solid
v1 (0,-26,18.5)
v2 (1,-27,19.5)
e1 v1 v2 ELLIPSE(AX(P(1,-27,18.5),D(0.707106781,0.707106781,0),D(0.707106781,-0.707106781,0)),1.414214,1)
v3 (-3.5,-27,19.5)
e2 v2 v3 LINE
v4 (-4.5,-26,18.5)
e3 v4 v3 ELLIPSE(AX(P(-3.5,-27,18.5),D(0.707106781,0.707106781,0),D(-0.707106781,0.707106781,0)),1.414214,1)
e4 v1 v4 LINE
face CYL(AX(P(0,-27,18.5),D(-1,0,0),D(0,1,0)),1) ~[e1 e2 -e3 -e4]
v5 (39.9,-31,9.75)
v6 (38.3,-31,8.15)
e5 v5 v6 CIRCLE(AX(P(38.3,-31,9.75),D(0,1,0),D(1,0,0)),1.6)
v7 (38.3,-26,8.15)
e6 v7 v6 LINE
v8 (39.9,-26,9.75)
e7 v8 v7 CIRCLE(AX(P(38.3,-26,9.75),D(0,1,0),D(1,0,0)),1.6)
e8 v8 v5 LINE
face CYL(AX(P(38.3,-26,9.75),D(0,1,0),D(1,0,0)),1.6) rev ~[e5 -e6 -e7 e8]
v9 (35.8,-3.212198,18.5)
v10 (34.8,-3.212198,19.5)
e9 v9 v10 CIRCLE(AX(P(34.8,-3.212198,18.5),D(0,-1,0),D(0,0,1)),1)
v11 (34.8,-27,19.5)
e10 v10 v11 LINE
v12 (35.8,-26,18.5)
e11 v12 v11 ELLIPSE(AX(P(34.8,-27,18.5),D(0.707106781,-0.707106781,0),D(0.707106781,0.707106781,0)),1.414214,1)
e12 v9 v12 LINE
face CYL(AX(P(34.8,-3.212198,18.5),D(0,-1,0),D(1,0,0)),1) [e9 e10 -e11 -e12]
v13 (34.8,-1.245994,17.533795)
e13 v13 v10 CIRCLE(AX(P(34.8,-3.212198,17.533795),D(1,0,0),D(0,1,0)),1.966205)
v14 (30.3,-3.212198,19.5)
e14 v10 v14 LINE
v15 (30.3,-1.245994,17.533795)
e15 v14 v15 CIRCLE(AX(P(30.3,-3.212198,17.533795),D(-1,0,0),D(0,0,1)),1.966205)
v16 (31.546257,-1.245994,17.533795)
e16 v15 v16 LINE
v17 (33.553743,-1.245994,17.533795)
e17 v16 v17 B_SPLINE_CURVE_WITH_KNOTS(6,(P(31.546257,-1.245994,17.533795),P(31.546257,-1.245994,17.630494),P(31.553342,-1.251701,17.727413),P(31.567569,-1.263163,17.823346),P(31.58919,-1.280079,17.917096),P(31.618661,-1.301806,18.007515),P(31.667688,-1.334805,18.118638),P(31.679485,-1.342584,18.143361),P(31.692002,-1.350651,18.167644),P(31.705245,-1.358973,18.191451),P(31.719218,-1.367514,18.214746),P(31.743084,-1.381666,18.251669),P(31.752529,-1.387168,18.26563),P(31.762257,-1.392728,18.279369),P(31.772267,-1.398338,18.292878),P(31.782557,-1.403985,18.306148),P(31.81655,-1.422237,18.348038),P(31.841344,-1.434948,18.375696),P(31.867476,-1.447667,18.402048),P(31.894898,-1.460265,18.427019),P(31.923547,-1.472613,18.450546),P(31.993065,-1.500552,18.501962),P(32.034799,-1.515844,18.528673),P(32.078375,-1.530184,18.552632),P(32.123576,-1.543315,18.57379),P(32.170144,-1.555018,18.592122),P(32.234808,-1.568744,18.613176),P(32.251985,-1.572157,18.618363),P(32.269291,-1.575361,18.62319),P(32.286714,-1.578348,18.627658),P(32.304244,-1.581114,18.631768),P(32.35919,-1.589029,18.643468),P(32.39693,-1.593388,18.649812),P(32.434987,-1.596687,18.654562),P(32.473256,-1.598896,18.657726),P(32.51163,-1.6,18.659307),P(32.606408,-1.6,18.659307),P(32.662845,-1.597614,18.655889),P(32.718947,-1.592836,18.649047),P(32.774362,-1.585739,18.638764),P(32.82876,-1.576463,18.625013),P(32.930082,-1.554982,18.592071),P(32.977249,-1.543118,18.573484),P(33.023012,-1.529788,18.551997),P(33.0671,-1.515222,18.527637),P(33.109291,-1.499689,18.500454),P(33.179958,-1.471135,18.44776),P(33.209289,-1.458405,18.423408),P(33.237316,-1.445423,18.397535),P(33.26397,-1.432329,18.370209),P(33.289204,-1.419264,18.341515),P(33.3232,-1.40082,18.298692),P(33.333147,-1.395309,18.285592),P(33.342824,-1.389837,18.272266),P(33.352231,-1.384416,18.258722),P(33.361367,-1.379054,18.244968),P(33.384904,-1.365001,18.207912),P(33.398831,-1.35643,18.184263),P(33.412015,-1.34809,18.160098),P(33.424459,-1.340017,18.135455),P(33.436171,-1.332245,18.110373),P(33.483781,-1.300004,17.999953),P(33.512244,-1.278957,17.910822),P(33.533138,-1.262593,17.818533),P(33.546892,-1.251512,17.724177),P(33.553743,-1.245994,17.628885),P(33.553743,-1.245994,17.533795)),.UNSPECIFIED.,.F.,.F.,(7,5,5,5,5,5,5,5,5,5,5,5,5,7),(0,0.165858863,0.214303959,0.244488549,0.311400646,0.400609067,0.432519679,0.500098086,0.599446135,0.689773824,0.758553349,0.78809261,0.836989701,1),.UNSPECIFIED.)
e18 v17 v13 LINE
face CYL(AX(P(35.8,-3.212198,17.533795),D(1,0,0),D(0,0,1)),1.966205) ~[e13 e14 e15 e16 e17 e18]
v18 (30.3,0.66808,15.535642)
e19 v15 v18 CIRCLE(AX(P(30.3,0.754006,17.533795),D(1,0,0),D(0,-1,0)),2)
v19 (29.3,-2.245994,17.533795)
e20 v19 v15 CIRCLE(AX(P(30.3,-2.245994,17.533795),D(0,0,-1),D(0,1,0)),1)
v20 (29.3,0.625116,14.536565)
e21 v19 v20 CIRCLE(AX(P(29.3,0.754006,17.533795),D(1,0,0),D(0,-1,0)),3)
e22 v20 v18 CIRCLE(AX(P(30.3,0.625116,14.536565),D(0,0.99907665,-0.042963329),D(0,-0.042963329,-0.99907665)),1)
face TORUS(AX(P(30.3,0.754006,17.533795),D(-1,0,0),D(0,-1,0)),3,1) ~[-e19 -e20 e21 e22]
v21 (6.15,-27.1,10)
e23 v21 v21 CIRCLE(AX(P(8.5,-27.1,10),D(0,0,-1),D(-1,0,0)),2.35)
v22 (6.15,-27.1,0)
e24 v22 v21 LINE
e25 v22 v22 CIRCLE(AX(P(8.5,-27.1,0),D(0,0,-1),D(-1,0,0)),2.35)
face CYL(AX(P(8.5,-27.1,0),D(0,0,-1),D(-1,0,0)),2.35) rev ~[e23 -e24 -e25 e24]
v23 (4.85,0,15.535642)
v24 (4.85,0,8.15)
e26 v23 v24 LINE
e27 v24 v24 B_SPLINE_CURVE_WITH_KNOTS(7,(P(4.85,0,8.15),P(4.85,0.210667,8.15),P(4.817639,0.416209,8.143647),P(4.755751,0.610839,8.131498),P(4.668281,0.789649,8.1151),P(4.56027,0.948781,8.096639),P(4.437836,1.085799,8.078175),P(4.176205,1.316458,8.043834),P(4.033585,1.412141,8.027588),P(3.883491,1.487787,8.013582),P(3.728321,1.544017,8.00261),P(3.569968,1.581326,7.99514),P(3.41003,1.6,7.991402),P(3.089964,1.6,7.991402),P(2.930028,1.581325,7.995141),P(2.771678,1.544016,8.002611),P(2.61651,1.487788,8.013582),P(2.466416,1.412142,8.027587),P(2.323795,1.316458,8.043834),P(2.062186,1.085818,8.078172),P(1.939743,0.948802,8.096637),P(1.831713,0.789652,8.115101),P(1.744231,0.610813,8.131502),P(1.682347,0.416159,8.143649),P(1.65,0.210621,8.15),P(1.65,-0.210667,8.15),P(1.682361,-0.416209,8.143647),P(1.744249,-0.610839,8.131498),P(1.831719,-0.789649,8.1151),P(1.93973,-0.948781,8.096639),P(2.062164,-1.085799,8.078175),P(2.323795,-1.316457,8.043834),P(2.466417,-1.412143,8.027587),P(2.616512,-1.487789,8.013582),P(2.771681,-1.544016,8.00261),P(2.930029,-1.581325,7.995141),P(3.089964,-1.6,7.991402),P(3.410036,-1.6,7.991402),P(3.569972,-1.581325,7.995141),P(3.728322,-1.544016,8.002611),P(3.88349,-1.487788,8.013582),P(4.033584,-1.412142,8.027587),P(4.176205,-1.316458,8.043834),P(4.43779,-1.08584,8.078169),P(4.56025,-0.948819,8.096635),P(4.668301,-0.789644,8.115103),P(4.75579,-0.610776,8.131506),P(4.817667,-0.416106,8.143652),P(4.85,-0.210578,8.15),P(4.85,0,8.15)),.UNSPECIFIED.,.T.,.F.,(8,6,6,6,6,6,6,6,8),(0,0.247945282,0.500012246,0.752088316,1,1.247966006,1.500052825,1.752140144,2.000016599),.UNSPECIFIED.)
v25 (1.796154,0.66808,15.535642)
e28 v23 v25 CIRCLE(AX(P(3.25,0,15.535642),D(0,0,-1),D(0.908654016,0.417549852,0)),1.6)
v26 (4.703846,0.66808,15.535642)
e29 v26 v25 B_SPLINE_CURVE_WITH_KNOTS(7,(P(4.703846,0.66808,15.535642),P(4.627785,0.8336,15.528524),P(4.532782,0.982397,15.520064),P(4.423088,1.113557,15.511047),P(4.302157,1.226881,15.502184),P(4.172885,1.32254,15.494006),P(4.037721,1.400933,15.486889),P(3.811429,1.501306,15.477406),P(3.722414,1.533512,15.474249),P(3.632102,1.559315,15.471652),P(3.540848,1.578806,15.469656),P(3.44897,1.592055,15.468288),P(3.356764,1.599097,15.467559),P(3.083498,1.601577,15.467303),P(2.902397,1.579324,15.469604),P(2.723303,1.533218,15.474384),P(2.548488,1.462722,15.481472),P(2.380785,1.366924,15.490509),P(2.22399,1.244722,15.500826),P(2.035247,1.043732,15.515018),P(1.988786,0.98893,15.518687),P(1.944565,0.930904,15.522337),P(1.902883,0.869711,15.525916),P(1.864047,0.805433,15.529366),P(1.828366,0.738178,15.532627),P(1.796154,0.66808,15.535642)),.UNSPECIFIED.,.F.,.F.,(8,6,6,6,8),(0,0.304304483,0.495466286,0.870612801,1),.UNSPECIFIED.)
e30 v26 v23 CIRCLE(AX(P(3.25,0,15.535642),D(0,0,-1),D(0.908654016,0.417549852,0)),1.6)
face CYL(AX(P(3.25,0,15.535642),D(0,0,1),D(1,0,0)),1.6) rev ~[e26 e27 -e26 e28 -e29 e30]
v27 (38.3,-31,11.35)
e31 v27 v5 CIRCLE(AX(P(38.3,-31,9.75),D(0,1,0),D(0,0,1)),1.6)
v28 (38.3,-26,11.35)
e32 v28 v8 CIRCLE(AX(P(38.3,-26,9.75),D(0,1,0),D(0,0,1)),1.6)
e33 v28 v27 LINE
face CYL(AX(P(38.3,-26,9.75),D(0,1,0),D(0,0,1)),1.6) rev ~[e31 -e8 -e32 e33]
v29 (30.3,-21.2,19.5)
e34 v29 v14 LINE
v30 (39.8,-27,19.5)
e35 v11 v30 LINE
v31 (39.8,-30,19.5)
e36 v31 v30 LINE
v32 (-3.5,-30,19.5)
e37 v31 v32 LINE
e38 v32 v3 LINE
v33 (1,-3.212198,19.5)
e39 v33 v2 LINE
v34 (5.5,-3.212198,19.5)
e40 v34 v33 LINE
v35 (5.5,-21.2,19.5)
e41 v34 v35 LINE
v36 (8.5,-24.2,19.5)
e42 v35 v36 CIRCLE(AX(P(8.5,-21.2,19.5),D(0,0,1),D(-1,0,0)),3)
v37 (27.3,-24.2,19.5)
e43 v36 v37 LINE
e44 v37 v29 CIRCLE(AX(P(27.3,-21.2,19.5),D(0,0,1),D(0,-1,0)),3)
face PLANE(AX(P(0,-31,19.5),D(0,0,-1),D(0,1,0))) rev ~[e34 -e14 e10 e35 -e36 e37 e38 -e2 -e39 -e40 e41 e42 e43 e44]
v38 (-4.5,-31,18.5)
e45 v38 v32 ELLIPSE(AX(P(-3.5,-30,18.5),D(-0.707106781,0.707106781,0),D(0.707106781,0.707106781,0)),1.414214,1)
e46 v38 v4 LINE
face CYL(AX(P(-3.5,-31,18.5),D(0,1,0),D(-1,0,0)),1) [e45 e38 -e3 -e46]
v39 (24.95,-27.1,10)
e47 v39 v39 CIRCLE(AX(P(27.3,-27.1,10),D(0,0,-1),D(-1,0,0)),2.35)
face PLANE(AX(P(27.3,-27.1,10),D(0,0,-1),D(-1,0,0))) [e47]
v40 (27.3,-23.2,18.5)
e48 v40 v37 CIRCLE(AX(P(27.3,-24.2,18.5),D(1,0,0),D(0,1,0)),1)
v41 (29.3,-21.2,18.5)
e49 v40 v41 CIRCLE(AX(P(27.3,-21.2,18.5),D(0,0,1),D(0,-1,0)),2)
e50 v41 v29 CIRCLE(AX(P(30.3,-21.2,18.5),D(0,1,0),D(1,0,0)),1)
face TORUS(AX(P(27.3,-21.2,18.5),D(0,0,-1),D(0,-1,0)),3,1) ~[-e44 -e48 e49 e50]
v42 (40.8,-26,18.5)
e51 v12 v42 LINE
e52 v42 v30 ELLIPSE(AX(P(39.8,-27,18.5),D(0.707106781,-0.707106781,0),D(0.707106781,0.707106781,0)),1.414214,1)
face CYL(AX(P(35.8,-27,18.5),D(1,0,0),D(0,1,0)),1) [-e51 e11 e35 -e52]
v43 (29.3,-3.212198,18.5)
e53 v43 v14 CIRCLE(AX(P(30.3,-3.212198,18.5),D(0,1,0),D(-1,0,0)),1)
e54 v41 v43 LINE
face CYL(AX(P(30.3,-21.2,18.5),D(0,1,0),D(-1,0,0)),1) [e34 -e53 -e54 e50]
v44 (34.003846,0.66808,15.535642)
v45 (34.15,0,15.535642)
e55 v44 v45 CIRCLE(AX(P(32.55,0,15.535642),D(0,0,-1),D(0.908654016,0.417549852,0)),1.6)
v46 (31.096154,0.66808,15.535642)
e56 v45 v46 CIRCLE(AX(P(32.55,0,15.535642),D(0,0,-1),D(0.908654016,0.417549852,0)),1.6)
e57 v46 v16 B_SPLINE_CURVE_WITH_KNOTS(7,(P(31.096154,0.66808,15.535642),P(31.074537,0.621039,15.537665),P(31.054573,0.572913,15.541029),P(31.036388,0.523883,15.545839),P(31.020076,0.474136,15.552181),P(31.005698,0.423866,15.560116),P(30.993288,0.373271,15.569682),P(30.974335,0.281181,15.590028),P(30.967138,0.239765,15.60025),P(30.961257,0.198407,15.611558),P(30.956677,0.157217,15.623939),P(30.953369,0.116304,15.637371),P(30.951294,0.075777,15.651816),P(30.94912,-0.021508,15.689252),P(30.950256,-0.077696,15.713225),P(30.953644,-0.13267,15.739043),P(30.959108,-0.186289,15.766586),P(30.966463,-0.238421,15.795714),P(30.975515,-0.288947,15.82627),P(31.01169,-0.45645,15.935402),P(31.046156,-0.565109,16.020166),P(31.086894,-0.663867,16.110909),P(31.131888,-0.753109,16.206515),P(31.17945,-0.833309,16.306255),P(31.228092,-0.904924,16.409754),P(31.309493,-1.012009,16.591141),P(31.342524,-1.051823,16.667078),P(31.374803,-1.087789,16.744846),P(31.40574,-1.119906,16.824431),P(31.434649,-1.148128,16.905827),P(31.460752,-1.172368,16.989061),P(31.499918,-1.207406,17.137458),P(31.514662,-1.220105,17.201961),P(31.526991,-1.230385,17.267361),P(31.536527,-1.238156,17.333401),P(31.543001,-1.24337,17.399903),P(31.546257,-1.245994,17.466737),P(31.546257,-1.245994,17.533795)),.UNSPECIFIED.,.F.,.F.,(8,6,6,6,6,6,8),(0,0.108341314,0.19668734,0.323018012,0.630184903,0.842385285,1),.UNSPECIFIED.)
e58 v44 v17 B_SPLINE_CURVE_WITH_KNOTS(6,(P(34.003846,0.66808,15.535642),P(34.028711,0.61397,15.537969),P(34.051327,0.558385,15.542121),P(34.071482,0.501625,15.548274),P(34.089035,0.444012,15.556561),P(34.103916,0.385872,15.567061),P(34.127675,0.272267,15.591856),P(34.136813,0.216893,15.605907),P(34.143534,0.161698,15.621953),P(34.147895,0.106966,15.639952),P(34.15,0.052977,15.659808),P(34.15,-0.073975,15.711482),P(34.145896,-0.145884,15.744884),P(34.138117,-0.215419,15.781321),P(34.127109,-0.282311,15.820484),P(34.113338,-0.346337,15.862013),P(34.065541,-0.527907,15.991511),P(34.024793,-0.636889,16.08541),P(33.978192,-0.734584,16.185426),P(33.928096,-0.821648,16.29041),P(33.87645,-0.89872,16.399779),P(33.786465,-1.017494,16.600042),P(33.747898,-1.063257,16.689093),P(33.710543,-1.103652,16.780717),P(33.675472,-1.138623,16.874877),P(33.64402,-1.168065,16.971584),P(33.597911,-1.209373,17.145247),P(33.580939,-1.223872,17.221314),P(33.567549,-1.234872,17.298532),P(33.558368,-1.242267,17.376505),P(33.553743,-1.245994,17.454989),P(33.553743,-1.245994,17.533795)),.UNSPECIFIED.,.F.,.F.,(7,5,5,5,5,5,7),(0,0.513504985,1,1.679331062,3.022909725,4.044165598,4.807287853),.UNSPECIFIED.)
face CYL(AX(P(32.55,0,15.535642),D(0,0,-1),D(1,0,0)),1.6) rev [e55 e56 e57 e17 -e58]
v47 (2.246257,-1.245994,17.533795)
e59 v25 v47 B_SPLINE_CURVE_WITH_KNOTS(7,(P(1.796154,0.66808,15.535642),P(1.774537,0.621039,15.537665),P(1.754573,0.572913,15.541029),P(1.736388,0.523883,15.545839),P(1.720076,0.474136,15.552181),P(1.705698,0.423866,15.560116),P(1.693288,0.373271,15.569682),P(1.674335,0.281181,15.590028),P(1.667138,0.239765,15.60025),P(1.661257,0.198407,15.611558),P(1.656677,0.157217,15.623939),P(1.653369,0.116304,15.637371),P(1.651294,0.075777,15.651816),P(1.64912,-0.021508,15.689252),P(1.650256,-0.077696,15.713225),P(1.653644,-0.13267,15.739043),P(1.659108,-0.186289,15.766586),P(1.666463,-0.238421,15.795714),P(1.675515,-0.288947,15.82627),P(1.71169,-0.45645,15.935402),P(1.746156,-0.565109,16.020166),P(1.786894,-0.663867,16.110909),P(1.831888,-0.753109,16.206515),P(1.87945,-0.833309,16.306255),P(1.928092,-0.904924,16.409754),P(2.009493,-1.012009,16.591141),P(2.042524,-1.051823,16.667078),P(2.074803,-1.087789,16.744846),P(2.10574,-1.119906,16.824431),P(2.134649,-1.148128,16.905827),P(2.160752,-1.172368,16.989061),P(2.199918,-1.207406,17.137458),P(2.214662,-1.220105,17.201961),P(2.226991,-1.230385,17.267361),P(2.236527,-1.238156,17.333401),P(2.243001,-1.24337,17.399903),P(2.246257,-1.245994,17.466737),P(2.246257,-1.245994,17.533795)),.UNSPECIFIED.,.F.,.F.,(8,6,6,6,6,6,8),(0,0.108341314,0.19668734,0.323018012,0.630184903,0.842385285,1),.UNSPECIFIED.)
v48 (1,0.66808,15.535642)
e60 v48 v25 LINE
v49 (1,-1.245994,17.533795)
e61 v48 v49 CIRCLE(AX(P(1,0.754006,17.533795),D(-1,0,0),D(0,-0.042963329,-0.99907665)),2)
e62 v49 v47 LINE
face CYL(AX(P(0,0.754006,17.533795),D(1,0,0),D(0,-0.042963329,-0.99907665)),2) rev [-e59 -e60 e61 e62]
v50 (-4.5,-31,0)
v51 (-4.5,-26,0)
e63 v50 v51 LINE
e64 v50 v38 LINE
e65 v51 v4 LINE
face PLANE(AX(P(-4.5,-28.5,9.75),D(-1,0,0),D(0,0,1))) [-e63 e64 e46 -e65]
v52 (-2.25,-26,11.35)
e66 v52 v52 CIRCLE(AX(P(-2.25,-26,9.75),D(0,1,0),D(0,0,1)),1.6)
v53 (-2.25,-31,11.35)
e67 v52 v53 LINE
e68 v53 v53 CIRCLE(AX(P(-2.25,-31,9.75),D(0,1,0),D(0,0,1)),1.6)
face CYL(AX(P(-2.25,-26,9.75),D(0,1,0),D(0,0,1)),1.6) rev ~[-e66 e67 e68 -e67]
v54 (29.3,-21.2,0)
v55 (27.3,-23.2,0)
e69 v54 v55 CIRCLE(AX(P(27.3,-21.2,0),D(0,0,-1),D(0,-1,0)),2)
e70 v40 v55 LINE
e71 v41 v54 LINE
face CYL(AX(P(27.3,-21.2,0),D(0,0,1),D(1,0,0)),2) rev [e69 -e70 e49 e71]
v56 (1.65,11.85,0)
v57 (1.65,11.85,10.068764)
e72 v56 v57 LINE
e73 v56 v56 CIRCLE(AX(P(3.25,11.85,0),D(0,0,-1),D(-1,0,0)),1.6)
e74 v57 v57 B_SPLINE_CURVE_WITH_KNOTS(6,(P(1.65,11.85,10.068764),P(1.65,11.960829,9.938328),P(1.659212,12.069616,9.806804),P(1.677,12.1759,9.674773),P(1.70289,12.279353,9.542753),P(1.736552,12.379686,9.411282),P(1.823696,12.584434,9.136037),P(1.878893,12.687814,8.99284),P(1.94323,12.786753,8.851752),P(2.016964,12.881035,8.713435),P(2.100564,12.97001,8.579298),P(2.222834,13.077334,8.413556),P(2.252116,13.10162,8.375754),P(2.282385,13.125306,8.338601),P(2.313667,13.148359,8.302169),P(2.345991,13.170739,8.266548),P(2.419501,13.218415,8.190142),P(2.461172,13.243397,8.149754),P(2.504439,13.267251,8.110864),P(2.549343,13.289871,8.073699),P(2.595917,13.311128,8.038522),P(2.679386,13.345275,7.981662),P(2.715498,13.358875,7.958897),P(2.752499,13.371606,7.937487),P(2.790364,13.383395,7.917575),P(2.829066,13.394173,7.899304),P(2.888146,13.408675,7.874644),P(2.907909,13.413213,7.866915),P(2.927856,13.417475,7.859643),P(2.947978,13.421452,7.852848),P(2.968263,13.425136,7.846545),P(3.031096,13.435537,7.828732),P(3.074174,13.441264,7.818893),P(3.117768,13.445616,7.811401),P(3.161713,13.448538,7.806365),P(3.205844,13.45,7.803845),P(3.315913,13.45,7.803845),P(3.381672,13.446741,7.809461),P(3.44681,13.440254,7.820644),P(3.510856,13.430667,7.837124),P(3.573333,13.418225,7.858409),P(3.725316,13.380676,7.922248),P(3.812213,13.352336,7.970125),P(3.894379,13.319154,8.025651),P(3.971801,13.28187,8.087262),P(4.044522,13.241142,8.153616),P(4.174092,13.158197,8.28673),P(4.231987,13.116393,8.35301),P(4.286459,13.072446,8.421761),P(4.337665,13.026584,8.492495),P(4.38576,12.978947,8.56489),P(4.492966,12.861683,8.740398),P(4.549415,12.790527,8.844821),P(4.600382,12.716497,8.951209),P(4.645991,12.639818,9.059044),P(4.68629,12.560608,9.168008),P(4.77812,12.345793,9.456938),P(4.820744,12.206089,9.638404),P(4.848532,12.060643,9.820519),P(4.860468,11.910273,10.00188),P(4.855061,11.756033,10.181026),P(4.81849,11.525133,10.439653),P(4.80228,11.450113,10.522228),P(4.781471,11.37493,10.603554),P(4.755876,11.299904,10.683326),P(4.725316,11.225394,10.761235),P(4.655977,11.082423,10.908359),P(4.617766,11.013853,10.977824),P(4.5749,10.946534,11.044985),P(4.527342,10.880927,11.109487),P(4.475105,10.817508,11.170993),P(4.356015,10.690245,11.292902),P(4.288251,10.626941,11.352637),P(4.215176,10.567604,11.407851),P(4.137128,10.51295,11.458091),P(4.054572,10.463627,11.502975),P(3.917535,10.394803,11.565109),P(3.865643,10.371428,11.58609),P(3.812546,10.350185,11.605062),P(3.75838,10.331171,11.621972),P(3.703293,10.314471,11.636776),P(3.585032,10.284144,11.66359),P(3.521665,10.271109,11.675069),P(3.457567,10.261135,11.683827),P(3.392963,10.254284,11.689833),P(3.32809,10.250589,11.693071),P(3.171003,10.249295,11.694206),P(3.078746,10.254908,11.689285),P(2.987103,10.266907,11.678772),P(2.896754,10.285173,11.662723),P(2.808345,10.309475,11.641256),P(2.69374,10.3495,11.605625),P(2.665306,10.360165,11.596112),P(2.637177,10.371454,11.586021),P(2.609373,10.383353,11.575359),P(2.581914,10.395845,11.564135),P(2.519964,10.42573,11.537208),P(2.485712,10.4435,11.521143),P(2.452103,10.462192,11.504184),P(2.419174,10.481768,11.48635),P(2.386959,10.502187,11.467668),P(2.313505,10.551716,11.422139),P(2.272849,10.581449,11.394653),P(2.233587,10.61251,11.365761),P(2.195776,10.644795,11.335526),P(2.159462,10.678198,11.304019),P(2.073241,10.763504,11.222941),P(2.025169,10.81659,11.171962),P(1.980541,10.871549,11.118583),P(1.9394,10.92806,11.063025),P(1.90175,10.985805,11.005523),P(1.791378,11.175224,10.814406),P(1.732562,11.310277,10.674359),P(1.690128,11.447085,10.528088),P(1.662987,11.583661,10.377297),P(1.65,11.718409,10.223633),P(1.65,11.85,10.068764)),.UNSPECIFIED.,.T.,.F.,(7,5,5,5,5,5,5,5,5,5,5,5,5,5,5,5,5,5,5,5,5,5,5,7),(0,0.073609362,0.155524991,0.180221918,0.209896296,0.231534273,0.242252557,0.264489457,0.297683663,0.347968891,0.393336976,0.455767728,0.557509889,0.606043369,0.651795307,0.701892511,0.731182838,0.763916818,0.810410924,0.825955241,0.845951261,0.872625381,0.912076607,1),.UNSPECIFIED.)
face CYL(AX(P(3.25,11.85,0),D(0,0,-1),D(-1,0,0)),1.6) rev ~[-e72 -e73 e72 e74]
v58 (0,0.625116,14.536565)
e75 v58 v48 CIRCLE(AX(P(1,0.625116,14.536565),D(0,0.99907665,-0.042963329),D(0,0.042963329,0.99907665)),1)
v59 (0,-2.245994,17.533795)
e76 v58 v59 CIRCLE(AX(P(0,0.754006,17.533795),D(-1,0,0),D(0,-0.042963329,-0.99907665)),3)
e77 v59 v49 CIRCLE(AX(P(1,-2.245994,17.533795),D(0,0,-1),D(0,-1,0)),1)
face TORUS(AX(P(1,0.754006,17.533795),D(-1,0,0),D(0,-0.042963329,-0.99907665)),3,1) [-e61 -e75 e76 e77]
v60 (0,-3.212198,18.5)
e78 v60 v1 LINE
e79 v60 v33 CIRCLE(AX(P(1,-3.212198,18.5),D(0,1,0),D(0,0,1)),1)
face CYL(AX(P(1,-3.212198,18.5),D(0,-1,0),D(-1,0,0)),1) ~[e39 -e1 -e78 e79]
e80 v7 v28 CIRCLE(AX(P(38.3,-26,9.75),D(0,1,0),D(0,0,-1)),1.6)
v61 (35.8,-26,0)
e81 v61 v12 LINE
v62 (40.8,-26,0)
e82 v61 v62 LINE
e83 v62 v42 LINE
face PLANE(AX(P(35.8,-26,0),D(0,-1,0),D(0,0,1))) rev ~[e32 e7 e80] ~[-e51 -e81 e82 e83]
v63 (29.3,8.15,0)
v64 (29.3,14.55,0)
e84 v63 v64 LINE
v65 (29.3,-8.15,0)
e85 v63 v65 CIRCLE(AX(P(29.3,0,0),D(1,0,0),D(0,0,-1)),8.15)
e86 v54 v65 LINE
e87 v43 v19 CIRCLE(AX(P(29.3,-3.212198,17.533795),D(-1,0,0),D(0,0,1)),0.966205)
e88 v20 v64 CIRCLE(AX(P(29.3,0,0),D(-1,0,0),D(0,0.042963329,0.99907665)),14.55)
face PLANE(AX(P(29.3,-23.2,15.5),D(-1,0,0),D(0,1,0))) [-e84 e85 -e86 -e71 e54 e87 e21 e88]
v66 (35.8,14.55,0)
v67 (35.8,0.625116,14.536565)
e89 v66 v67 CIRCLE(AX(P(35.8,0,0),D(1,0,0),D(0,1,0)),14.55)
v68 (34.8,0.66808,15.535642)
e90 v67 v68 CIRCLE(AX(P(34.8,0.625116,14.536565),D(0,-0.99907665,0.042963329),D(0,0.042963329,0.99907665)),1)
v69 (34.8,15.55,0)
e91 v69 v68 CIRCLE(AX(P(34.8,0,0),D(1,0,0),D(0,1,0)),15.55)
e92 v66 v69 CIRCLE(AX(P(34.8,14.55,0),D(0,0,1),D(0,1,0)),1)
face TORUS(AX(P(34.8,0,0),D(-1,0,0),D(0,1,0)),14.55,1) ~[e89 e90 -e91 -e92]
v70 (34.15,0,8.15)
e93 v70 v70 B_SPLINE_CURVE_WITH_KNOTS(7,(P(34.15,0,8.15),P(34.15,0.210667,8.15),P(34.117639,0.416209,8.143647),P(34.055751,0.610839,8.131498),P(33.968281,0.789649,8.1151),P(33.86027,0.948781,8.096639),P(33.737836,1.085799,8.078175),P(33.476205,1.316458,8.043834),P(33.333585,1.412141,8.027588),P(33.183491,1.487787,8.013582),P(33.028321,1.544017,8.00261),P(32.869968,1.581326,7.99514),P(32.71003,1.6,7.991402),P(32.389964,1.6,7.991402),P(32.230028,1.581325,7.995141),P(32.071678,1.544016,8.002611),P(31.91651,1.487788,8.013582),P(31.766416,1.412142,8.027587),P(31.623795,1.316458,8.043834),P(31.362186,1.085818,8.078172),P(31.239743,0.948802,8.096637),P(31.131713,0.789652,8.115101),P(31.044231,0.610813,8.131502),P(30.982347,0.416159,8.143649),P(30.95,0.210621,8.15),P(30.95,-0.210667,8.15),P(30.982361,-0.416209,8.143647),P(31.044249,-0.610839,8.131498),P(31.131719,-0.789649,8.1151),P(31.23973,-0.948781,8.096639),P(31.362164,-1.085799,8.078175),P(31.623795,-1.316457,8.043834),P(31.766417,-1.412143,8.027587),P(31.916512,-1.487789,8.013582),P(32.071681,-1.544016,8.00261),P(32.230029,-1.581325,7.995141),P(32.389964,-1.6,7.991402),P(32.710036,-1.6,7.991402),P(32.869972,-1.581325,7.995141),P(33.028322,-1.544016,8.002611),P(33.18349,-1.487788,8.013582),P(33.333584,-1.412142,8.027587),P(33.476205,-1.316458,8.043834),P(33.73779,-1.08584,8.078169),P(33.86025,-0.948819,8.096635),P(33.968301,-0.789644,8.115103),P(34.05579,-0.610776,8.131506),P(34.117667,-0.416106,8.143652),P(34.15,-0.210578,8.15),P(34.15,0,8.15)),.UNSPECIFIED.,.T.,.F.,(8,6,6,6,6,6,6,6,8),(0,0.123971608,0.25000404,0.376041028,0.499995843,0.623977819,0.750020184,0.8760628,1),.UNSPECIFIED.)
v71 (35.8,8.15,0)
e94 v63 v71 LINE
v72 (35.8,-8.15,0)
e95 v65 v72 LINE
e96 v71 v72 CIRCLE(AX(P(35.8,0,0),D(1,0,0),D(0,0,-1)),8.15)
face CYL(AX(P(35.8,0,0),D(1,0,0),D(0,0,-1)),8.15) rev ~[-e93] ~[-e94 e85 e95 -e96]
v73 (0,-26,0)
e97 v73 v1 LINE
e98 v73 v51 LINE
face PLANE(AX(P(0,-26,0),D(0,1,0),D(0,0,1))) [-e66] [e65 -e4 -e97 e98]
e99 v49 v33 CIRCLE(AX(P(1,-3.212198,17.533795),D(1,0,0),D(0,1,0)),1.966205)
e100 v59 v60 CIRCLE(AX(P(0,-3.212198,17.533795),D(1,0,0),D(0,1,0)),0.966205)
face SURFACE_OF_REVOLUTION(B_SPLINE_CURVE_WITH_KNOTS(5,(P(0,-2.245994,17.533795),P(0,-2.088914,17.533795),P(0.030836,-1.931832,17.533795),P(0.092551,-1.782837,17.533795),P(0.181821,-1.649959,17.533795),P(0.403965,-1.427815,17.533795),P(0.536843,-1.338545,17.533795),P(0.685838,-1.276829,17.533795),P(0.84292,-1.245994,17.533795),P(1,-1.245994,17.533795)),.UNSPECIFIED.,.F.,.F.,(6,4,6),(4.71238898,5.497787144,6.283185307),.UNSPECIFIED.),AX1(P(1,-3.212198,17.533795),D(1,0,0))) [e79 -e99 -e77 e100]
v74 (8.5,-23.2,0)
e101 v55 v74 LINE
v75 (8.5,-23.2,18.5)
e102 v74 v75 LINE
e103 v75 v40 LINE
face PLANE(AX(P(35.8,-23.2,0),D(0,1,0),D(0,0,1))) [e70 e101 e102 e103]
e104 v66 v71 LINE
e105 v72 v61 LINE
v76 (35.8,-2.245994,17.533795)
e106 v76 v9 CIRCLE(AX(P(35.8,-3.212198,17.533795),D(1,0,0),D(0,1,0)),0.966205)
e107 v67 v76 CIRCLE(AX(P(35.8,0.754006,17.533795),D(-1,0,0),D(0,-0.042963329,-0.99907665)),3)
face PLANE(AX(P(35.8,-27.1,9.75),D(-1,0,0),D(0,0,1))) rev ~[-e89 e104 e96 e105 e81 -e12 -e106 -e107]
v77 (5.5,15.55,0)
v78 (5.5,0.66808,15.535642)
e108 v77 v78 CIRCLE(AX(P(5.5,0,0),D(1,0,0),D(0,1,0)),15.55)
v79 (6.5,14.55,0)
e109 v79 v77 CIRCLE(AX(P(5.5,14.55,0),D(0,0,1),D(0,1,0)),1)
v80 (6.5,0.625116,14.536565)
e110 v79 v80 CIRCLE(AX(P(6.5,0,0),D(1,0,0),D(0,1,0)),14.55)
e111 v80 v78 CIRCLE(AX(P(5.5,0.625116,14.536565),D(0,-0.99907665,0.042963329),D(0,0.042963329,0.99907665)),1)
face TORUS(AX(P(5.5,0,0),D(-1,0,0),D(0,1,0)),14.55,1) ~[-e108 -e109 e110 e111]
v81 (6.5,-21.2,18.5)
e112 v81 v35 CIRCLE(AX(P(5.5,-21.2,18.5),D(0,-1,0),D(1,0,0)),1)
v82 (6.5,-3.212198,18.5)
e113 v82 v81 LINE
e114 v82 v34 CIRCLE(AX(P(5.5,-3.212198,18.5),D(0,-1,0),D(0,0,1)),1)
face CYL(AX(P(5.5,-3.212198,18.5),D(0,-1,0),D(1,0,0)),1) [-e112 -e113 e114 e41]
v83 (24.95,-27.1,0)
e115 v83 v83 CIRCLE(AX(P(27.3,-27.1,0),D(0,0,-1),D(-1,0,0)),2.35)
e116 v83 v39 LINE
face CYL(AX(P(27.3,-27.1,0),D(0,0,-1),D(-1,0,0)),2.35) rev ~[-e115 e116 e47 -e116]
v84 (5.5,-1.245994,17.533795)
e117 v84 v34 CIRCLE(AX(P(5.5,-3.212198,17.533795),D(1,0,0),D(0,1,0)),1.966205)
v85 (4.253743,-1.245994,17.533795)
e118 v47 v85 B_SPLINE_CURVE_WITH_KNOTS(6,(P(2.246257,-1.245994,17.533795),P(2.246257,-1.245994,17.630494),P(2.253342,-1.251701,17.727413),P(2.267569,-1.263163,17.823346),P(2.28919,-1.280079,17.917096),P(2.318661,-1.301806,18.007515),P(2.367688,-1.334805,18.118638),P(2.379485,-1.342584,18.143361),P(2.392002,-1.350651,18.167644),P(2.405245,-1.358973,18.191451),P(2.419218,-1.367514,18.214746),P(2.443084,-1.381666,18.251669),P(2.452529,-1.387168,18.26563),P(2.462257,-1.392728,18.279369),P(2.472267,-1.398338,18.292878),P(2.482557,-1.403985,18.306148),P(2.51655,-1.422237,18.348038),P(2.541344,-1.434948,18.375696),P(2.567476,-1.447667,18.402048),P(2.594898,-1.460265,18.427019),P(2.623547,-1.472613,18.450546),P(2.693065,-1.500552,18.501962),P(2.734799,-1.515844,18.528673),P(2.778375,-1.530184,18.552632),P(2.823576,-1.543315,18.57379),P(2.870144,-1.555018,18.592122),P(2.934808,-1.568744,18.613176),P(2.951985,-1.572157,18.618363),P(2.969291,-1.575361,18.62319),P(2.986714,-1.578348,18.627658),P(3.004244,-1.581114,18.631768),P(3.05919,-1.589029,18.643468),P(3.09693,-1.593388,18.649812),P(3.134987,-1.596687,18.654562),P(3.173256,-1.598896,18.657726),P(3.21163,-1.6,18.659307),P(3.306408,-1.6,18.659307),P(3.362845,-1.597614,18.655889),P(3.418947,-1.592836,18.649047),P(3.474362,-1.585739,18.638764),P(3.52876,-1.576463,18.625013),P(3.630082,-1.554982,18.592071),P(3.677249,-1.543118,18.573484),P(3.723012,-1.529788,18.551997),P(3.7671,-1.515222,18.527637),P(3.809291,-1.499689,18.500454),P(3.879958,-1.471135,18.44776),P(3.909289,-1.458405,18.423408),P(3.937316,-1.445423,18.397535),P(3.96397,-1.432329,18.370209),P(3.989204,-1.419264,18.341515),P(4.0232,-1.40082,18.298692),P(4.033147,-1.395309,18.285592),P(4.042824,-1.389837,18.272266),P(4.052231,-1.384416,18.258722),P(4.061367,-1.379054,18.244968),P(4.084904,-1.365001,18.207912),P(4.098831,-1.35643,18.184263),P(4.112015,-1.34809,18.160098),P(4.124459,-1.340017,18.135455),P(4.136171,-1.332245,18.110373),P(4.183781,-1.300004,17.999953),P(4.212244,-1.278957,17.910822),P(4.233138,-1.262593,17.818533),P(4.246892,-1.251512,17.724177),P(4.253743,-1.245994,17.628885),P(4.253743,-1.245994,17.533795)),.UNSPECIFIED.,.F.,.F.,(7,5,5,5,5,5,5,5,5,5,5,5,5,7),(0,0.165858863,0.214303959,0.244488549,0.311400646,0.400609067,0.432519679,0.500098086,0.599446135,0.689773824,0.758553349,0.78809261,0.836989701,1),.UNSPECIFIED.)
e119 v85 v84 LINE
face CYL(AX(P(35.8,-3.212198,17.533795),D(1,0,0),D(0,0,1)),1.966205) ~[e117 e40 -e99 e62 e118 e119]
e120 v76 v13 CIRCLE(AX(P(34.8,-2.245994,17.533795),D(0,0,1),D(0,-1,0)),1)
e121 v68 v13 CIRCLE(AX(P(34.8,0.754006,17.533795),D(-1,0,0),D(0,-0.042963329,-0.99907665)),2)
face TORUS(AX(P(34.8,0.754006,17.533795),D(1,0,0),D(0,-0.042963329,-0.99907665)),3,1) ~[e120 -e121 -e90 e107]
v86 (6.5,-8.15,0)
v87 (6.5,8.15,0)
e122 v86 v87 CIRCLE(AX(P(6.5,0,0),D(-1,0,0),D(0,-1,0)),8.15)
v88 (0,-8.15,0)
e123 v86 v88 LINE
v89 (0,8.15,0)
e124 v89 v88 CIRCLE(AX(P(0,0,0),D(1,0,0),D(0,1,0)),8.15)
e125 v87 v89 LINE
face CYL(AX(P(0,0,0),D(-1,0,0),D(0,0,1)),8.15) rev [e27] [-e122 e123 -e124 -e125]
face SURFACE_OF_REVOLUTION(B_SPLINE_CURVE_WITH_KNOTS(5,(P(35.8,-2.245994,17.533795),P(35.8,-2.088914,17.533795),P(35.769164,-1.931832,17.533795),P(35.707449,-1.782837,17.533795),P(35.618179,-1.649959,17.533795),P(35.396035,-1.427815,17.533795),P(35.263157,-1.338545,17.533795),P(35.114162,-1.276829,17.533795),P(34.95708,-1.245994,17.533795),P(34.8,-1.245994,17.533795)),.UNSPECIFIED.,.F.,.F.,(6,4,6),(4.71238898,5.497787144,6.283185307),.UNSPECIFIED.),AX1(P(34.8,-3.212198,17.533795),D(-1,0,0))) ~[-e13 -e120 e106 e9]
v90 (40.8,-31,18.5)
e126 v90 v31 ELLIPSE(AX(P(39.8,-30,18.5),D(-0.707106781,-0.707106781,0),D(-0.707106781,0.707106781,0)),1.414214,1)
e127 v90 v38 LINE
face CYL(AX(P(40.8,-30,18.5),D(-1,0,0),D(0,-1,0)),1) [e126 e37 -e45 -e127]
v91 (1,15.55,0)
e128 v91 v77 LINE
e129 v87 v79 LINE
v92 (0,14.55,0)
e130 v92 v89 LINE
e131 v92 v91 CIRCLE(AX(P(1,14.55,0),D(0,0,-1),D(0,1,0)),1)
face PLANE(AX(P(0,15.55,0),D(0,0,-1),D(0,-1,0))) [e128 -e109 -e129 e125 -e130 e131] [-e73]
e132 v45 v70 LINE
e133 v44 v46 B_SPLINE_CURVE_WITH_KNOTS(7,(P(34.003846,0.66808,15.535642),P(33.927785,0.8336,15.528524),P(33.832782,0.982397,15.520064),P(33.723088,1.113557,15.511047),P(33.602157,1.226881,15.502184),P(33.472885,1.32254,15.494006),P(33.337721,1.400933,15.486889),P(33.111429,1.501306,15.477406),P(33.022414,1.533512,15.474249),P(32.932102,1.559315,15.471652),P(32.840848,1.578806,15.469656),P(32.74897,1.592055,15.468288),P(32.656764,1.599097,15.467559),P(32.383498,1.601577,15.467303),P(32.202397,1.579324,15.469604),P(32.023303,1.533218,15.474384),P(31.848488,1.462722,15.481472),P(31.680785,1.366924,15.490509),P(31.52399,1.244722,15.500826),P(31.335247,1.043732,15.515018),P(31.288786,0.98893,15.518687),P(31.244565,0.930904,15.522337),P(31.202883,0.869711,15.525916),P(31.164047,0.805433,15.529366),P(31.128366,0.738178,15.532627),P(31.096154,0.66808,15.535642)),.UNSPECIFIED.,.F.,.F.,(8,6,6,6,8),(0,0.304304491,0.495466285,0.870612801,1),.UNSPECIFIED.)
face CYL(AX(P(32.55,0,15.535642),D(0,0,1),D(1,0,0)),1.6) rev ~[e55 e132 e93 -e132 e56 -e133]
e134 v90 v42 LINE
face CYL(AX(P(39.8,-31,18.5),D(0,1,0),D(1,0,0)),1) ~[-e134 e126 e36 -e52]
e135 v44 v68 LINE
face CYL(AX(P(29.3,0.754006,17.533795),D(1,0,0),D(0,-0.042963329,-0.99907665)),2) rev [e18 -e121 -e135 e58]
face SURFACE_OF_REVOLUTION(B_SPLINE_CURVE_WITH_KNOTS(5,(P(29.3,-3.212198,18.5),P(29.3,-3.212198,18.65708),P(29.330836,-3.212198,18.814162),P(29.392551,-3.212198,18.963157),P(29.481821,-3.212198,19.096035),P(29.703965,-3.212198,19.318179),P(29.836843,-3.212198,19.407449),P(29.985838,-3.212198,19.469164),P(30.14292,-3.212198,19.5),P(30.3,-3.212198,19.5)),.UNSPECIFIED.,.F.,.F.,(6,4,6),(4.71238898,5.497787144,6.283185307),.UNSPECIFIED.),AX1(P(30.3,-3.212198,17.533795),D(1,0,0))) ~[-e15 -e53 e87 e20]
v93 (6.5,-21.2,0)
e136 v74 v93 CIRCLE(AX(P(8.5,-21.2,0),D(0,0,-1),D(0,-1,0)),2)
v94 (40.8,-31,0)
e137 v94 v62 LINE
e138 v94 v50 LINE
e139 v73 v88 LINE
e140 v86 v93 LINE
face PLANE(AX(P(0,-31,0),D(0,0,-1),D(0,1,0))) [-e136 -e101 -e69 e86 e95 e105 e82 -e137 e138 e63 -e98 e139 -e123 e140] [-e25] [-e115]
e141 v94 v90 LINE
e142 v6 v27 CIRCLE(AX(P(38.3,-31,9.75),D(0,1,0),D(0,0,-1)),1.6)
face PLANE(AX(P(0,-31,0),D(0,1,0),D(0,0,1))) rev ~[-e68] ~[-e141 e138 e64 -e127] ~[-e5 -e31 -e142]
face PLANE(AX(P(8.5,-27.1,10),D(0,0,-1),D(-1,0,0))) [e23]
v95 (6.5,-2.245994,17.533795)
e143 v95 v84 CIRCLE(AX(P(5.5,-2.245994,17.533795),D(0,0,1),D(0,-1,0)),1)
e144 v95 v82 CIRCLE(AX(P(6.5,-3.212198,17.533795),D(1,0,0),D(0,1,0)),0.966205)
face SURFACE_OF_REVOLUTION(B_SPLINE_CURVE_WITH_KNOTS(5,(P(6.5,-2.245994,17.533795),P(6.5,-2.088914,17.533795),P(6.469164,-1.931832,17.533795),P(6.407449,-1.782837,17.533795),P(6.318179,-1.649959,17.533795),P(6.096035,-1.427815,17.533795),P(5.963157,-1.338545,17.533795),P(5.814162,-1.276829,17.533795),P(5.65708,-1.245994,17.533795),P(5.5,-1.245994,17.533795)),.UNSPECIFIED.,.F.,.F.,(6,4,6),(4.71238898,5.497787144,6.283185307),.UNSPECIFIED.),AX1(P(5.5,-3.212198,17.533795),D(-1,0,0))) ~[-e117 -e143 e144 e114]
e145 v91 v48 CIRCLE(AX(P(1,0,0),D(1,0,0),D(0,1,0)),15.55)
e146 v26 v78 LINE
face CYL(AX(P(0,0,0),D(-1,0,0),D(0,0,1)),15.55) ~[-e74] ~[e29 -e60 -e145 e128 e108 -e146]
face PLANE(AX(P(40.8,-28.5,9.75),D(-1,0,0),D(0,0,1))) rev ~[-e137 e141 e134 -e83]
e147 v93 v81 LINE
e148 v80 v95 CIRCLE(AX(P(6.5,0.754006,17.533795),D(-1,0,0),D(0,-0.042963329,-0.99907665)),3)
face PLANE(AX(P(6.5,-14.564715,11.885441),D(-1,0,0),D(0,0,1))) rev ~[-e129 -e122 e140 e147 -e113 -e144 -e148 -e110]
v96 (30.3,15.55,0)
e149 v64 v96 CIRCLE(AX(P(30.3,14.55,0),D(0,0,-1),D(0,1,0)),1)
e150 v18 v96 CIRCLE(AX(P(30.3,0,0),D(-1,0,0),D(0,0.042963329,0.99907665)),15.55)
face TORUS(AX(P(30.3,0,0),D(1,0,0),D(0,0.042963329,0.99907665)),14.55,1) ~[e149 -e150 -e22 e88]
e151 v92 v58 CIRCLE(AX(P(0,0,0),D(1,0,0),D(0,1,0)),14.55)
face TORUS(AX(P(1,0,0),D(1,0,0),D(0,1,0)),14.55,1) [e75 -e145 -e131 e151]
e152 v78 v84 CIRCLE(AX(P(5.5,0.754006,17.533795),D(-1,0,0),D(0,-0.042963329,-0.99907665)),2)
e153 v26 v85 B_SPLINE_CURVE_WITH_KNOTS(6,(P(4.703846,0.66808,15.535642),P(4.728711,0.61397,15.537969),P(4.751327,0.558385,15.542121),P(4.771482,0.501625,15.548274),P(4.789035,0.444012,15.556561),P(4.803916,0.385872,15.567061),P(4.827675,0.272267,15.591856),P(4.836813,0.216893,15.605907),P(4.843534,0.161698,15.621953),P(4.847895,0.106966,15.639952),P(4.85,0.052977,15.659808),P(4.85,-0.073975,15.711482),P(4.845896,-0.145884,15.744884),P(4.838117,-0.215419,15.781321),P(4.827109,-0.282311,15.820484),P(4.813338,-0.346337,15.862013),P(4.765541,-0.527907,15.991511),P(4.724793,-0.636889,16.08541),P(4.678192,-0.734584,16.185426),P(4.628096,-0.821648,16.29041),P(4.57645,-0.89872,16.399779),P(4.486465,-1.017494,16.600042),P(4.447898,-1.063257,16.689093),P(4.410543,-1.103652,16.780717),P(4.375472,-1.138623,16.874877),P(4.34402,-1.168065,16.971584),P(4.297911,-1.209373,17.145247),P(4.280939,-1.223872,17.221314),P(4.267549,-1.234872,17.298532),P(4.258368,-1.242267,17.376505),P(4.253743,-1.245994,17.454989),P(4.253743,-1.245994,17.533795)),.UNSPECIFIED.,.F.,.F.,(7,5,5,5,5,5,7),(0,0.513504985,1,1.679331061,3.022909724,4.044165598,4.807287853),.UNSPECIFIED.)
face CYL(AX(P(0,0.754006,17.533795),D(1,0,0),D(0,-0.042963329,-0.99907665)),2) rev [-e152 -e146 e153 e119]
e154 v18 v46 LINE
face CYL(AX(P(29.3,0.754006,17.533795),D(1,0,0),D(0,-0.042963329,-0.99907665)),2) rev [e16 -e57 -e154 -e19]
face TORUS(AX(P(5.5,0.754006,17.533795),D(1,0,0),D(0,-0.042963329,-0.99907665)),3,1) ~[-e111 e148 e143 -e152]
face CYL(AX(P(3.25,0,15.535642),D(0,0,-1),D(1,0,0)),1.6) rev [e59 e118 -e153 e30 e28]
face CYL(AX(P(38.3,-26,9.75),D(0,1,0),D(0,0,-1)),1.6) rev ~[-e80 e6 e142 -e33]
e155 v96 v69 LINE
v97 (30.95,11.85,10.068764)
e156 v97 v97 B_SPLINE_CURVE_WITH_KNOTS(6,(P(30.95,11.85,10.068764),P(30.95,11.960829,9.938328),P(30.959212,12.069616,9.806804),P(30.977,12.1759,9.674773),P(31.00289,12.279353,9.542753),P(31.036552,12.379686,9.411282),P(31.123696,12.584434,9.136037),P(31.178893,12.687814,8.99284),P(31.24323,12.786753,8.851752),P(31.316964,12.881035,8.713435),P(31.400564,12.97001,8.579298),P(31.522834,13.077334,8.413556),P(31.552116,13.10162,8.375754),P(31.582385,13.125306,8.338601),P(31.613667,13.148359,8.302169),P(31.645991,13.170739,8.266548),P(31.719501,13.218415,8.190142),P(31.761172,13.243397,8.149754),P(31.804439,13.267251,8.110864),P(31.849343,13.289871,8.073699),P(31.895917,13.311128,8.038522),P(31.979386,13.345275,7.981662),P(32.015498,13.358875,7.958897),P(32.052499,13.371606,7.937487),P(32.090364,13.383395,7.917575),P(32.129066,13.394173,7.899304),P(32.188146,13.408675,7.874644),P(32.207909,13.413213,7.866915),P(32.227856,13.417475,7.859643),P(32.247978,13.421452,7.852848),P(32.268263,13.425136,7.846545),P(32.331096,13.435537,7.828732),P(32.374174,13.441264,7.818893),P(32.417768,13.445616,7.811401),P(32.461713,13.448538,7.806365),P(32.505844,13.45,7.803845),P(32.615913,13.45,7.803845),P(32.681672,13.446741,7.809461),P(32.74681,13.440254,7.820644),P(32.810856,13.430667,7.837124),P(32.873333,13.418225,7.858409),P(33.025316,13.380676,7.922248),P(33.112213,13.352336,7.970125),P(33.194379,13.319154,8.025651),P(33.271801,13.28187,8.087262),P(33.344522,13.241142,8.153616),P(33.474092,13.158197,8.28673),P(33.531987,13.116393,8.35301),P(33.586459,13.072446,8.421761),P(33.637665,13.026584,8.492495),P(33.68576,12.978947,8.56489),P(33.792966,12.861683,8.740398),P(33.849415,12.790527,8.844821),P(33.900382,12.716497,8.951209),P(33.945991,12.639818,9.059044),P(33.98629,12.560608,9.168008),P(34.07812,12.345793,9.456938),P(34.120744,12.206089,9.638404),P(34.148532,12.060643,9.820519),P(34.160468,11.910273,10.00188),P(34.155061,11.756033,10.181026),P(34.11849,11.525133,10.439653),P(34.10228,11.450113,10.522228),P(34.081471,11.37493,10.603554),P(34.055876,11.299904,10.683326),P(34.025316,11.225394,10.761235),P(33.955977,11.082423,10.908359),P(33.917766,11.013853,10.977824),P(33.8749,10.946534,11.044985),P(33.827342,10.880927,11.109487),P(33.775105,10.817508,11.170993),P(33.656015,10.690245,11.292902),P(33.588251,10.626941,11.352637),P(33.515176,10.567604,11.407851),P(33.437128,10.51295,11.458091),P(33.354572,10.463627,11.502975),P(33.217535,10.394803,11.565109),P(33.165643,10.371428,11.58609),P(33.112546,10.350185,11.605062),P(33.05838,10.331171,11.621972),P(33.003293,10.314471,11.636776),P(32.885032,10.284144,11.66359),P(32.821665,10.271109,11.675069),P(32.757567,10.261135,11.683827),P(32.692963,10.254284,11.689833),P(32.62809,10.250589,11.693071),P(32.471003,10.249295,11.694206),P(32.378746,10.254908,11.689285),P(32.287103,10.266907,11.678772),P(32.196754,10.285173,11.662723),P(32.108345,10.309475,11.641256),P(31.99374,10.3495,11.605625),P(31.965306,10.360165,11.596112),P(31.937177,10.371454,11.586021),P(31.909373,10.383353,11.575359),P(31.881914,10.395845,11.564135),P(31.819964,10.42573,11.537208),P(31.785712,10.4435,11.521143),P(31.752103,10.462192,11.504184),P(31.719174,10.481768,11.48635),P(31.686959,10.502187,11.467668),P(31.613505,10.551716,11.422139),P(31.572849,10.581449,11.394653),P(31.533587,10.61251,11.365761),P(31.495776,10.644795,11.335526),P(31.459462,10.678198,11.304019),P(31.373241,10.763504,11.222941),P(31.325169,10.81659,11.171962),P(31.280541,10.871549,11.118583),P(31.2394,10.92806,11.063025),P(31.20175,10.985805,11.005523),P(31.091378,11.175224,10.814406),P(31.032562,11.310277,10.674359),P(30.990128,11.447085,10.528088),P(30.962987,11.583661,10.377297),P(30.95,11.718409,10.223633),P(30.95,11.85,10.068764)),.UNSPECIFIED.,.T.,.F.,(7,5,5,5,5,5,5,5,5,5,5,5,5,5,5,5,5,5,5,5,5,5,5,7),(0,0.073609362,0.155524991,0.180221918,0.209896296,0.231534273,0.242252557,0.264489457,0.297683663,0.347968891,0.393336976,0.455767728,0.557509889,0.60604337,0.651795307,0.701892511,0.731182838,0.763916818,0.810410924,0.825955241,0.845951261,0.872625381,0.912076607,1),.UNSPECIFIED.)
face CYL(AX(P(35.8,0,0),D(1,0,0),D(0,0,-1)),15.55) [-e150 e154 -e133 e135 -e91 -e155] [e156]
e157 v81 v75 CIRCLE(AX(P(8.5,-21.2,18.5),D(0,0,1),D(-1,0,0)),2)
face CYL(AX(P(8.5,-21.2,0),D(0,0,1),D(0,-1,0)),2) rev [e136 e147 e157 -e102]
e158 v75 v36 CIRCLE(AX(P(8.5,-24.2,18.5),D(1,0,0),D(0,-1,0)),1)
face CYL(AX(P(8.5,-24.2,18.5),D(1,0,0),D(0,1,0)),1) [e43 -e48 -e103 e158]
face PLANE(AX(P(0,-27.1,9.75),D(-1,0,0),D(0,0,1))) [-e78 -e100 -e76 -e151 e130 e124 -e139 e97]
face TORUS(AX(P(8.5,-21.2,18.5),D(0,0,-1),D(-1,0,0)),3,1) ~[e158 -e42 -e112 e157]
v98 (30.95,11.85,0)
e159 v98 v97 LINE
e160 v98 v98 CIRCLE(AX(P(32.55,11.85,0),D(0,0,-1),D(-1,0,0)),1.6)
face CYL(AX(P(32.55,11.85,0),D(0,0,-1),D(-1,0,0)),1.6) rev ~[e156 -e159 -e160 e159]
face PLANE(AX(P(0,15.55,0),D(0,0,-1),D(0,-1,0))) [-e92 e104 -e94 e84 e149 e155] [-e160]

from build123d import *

# Parameters (mm, degrees)
SKETCH3_R               = 15.55
SKETCH3_R_2             = 8.15
BOSS_EXTRUDE4_DEPTH     = 6.5
SKETCH2_R               = 15.55
SKETCH2_R_2             = 8.15
BOSS_EXTRUDE5_DEPTH     = 6.5
CUT_EXTRUDE1_DEPTH      = 35.8
SKETCH5_R               = 1.6
CUT_EXTRUDE2_DEPTH      = 43.014818814
BOSS_EXTRUDE6_DEPTH     = 6.5
SKETCH9_W               = 6.5
SKETCH9_H               = 21.954006421
BOSS_EXTRUDE7_DEPTH     = 4
BOSS_EXTRUDE8_DEPTH     = 6.5
FILLET1_R               = 2
FILLET5_R               = 2
CUT_EXTRUDE3_DEPTH      = 47.905543459
BOSS_EXTRUDE10_START    = -6.5
SKETCH13_W              = 19.5
SKETCH13_H              = 7.8
BOSS_EXTRUDE10_DEPTH    = 35.8
FILLET3_R               = 2
SKETCH14_W              = 19.5
SKETCH14_H              = 5
BOSS_EXTRUDE11_DEPTH    = 5
CUT_EXTRUDE4_DEPTH      = 62.410850086
SKETCH20_W              = 19.5
SKETCH20_H              = 5
BOSS_EXTRUDE13_DEPTH    = 4.5
SKETCH21_R              = 1.6
CUT_EXTRUDE7_DEPTH      = 62.410850086
FILLET6_R               = 1
SKETCH22_R              = 2.35
CUT_EXTRUDE8_DEPTH      = 10
SKETCH23_R              = 1.6
CUT_EXTRUDE9_DEPTH      = 54.54433838
CUT_EXTRUDE9_DEPTH_BACK = 54.54433838


with BuildPart() as part:
    # Sketch3 → Boss-Extrude4 (new body)
    with BuildSketch(Plane(origin=(0, 0, 0), x_dir=(0, 0, -1), z_dir=(1, 0, 0))):
        with Locations(Location((0, 0, 0), (0, 0, 180))):
            Circle(SKETCH3_R)
        with Locations(Location((0, 0, 0), (0, 0, 180))):
            Circle(SKETCH3_R_2, mode=Mode.SUBTRACT)
    extrude(amount=BOSS_EXTRUDE4_DEPTH)


with BuildPart() as body_2:
    # Sketch2 → Boss-Extrude5 (new body)
    with BuildSketch(Plane(origin=(35.8, 0, 0), x_dir=(0, 0, -1), z_dir=(1, 0, 0))):
        Circle(SKETCH2_R)
        Circle(SKETCH2_R_2, mode=Mode.SUBTRACT)
    extrude(amount=-BOSS_EXTRUDE5_DEPTH)


with BuildPart() as cut_extrude1_tool:
    # Sketch4 → Cut-Extrude1 (new body)
    with BuildSketch(Plane(origin=(0, 0, 0), x_dir=(0, 0, -1), z_dir=(1, 0, 0))):
        with BuildLine():
            Line((0, 15.55), (0, -15.55))
            ThreePointArc((0, -15.55), (15.55, 0), (0, 15.55))
        make_face()
    extrude(amount=CUT_EXTRUDE1_DEPTH)


with BuildPart() as part_1:
    add(part.part)

    # Cut-Extrude1: cut by cut_extrude1_tool
    add(cut_extrude1_tool.part, mode=Mode.SUBTRACT)


with BuildPart() as body_2_1:
    add(body_2.part)

    # Cut-Extrude1: cut by cut_extrude1_tool
    add(cut_extrude1_tool.part, mode=Mode.SUBTRACT)


with BuildPart() as cut_extrude2_tool:
    # Sketch5 → Cut-Extrude2 (new, through all)
    with BuildSketch(Plane(origin=(0, 0, 0), x_dir=(-1, 0, 0), z_dir=(0, 0, -1))):
        with Locations((-32.55, 11.85)):
            Circle(SKETCH5_R)
        with Locations((-3.25, 11.85)):
            Circle(SKETCH5_R)
    extrude(amount=-CUT_EXTRUDE2_DEPTH)


with BuildPart() as part_2:
    add(part_1.part)

    # Cut-Extrude2: cut by cut_extrude2_tool
    add(cut_extrude2_tool.part, mode=Mode.SUBTRACT)

    # Sketch11 → Boss-Extrude8 (add)
    with BuildSketch(Plane.ZY):
        with BuildLine():
            ThreePointArc((15.5, -1.245993579), (10.545788255, -11.427547859), (0, -15.55))
            Line((0, -15.55), (0, -23.2))
            Line((0, -23.2), (19.5, -23.2))
            Line((19.5, -23.2), (19.5, -1.245993579))
            Line((19.5, -1.245993579), (15.5, -1.245993579))
        make_face()
    extrude(amount=-BOSS_EXTRUDE8_DEPTH)

    # Fillet5
    fillet5_edges = [part_2.edges().sort_by_distance(p)[0] for p in [
        (3.25, -1.245993579, 15.5),
    ]]
    fillet(fillet5_edges, radius=FILLET5_R)


with BuildPart() as body_2_2:
    add(body_2_1.part)

    # Cut-Extrude2: cut by cut_extrude2_tool
    add(cut_extrude2_tool.part, mode=Mode.SUBTRACT)

    # Sketch8 → Boss-Extrude6 (add)
    with BuildSketch(Plane.ZY.offset(-29.3)):
        with BuildLine():
            ThreePointArc((15.5, -11.330931118), (8.691551143, -17.120074145), (0, -19.2))
            Line((0, -19.2), (0, -23.2))
            Line((0, -23.2), (15.5, -23.2))
            Line((15.5, -23.2), (15.5, -11.330931118))
        make_face()
        with BuildLine():
            ThreePointArc((15.5, -1.245993579), (10.545788255, -11.427547859), (0, -15.55))
            Line((0, -15.55), (0, -19.2))
            ThreePointArc((0, -19.2), (8.691551143, -17.120074145), (15.5, -11.330931118))
            Line((15.5, -11.330931118), (15.5, -1.245993579))
        make_face()
    extrude(amount=-BOSS_EXTRUDE6_DEPTH)

    # Sketch9 → Boss-Extrude7 (add)
    with BuildSketch(Plane(origin=(0, 0, 15.5), x_dir=(-1, 0, 0), z_dir=(0, 0, -1))):
        with Locations((-32.55, -12.22299679)):
            Rectangle(SKETCH9_W, SKETCH9_H)
    extrude(amount=-BOSS_EXTRUDE7_DEPTH)

    # Fillet1
    fillet1_edges = [body_2_2.edges().sort_by_distance(p)[0] for p in [
        (32.55, -1.245993579, 15.5),
    ]]
    fillet(fillet1_edges, radius=FILLET1_R)


with BuildPart() as cut_extrude3_tool:
    # Sketch10 → Cut-Extrude3 (new, through all)
    with BuildSketch(Plane.ZY.offset(-35.8)):
        with BuildLine():
            Line((19.5, -1.245993579), (19.5, -3.212198374))
            ThreePointArc((19.5, -3.212198374), (18.924111949, -1.82188163), (17.533795206, -1.245993579))
            Line((17.533795206, -1.245993579), (19.5, -1.245993579))
        make_face()
    extrude(amount=CUT_EXTRUDE3_DEPTH)


with BuildPart() as part_3:
    add(part_2.part)

    # Cut-Extrude3: cut by cut_extrude3_tool
    add(cut_extrude3_tool.part, mode=Mode.SUBTRACT)



with BuildPart() as body_2_3:
    add(body_2_2.part)

    # Cut-Extrude3: cut by cut_extrude3_tool
    add(cut_extrude3_tool.part, mode=Mode.SUBTRACT)


with BuildPart() as part_4:
    add(part_3.part)

    add(body_2_3.part)  # Boss-Extrude10 merges body 2
    # Sketch13 → Boss-Extrude10 (add)
    with BuildSketch(Plane.ZY.offset(-29.3).offset(BOSS_EXTRUDE10_START)):
        with Locations((9.75, -27.1)):
            Rectangle(SKETCH13_W, SKETCH13_H)
    extrude(amount=BOSS_EXTRUDE10_DEPTH)

    # Fillet3
    fillet3_edges = [part_4.edges().sort_by_distance(p)[0] for p in [
        (6.5, -23.2, 9.75),
        (29.3, -23.2, 9.75),
    ]]
    fillet(fillet3_edges, radius=FILLET3_R)

    # Sketch14 → Boss-Extrude11 (add)
    with BuildSketch(Plane.ZY.offset(-35.8)):
        with Locations((9.75, -28.5)):
            Rectangle(SKETCH14_W, SKETCH14_H)
    extrude(amount=-BOSS_EXTRUDE11_DEPTH)

    # Sketch15 → Cut-Extrude4 (cut, through all)
    with BuildSketch(Plane(origin=(0, -26, 0), x_dir=(1, 0, 0), z_dir=(0, 1, 0))):
        with BuildLine():
            ThreePointArc((39.9, -9.75), (39.43137085, -8.61862915), (38.3, -8.15))
            Line((38.3, -8.15), (38.3, -11.35))
            ThreePointArc((38.3, -11.35), (39.43137085, -10.88137085), (39.9, -9.75))
        make_face()
        with BuildLine():
            Line((38.3, -11.35), (38.3, -8.15))
            ThreePointArc((38.3, -8.15), (36.7, -9.75), (38.3, -11.35))
        make_face()
    extrude(amount=-CUT_EXTRUDE4_DEPTH, mode=Mode.SUBTRACT)

    # Sketch20 → Boss-Extrude13 (add)
    with BuildSketch(Plane.ZY):
        with Locations((9.75, -28.5)):
            Rectangle(SKETCH20_W, SKETCH20_H)
    extrude(amount=BOSS_EXTRUDE13_DEPTH)

    # Sketch21 → Cut-Extrude7 (cut, through all)
    with BuildSketch(Plane(origin=(0, -26, 0), x_dir=(1, 0, 0), z_dir=(0, 1, 0))):
        with Locations(Location((-2.25, -9.75, 0), (0, 0, 270))):
            Circle(SKETCH21_R)
    extrude(amount=-CUT_EXTRUDE7_DEPTH, mode=Mode.SUBTRACT)

    # Fillet6
    fillet6_edges = [part_4.edges().sort_by_distance(p)[0] for p in [
        (0, 11.229228387, 10.756715569),
        (0, -1.82188163, 18.924111949),
        (29.3, -12.206099187, 19.5),
        (17.9, -23.2, 19.5),
        (6.5, -12.206099187, 19.5),
        (28.714213562, -22.614213562, 19.5),
        (7.085786438, -22.614213562, 19.5),
        (40.8, -28.5, 19.5),
        (38.3, -26, 19.5),
        (-2.25, -26, 19.5),
        (-4.5, -28.5, 19.5),
        (35.8, 11.229228387, 10.756715569),
        (29.3, 11.229228387, 10.756715569),
        (29.3, -0.690267327, 16.150294811),
        (35.8, -0.690267327, 16.150294811),
        (35.8, -14.606099187, 19.5),
        (35.8, -1.82188163, 18.924111949),
        (29.3, -1.82188163, 18.924111949),
        (0, -14.606099187, 19.5),
        (18.15, -31, 19.5),
        (6.5, -0.690267327, 16.150294811),
        (6.5, -1.82188163, 18.924111949),
        (6.5, 11.229228387, 10.756715569),
        (0, -0.690267327, 16.150294811),
    ]]
    fillet(fillet6_edges, radius=FILLET6_R)

    # Sketch22 → Cut-Extrude8 (cut)
    with BuildSketch(Plane(origin=(0, 0, 0), x_dir=(-1, 0, 0), z_dir=(0, 0, -1))):
        with Locations((-8.5, -27.1)):
            Circle(SKETCH22_R)
        with Locations((-27.3, -27.1)):
            Circle(SKETCH22_R)
    extrude(amount=-CUT_EXTRUDE8_DEPTH, mode=Mode.SUBTRACT)

    # Sketch23 → Cut-Extrude9 (cut, two sides)
    with BuildSketch(Plane.XY.offset(15.535641906)) as cut_extrude9_sk:
        with Locations((3.25, 0)):
            Circle(SKETCH23_R)
        with Locations((32.55, 0)):
            Circle(SKETCH23_R)
    extrude(amount=CUT_EXTRUDE9_DEPTH, mode=Mode.SUBTRACT)
    extrude(cut_extrude9_sk.sketch, amount=-CUT_EXTRUDE9_DEPTH_BACK, mode=Mode.SUBTRACT)


solid = part_4.part
